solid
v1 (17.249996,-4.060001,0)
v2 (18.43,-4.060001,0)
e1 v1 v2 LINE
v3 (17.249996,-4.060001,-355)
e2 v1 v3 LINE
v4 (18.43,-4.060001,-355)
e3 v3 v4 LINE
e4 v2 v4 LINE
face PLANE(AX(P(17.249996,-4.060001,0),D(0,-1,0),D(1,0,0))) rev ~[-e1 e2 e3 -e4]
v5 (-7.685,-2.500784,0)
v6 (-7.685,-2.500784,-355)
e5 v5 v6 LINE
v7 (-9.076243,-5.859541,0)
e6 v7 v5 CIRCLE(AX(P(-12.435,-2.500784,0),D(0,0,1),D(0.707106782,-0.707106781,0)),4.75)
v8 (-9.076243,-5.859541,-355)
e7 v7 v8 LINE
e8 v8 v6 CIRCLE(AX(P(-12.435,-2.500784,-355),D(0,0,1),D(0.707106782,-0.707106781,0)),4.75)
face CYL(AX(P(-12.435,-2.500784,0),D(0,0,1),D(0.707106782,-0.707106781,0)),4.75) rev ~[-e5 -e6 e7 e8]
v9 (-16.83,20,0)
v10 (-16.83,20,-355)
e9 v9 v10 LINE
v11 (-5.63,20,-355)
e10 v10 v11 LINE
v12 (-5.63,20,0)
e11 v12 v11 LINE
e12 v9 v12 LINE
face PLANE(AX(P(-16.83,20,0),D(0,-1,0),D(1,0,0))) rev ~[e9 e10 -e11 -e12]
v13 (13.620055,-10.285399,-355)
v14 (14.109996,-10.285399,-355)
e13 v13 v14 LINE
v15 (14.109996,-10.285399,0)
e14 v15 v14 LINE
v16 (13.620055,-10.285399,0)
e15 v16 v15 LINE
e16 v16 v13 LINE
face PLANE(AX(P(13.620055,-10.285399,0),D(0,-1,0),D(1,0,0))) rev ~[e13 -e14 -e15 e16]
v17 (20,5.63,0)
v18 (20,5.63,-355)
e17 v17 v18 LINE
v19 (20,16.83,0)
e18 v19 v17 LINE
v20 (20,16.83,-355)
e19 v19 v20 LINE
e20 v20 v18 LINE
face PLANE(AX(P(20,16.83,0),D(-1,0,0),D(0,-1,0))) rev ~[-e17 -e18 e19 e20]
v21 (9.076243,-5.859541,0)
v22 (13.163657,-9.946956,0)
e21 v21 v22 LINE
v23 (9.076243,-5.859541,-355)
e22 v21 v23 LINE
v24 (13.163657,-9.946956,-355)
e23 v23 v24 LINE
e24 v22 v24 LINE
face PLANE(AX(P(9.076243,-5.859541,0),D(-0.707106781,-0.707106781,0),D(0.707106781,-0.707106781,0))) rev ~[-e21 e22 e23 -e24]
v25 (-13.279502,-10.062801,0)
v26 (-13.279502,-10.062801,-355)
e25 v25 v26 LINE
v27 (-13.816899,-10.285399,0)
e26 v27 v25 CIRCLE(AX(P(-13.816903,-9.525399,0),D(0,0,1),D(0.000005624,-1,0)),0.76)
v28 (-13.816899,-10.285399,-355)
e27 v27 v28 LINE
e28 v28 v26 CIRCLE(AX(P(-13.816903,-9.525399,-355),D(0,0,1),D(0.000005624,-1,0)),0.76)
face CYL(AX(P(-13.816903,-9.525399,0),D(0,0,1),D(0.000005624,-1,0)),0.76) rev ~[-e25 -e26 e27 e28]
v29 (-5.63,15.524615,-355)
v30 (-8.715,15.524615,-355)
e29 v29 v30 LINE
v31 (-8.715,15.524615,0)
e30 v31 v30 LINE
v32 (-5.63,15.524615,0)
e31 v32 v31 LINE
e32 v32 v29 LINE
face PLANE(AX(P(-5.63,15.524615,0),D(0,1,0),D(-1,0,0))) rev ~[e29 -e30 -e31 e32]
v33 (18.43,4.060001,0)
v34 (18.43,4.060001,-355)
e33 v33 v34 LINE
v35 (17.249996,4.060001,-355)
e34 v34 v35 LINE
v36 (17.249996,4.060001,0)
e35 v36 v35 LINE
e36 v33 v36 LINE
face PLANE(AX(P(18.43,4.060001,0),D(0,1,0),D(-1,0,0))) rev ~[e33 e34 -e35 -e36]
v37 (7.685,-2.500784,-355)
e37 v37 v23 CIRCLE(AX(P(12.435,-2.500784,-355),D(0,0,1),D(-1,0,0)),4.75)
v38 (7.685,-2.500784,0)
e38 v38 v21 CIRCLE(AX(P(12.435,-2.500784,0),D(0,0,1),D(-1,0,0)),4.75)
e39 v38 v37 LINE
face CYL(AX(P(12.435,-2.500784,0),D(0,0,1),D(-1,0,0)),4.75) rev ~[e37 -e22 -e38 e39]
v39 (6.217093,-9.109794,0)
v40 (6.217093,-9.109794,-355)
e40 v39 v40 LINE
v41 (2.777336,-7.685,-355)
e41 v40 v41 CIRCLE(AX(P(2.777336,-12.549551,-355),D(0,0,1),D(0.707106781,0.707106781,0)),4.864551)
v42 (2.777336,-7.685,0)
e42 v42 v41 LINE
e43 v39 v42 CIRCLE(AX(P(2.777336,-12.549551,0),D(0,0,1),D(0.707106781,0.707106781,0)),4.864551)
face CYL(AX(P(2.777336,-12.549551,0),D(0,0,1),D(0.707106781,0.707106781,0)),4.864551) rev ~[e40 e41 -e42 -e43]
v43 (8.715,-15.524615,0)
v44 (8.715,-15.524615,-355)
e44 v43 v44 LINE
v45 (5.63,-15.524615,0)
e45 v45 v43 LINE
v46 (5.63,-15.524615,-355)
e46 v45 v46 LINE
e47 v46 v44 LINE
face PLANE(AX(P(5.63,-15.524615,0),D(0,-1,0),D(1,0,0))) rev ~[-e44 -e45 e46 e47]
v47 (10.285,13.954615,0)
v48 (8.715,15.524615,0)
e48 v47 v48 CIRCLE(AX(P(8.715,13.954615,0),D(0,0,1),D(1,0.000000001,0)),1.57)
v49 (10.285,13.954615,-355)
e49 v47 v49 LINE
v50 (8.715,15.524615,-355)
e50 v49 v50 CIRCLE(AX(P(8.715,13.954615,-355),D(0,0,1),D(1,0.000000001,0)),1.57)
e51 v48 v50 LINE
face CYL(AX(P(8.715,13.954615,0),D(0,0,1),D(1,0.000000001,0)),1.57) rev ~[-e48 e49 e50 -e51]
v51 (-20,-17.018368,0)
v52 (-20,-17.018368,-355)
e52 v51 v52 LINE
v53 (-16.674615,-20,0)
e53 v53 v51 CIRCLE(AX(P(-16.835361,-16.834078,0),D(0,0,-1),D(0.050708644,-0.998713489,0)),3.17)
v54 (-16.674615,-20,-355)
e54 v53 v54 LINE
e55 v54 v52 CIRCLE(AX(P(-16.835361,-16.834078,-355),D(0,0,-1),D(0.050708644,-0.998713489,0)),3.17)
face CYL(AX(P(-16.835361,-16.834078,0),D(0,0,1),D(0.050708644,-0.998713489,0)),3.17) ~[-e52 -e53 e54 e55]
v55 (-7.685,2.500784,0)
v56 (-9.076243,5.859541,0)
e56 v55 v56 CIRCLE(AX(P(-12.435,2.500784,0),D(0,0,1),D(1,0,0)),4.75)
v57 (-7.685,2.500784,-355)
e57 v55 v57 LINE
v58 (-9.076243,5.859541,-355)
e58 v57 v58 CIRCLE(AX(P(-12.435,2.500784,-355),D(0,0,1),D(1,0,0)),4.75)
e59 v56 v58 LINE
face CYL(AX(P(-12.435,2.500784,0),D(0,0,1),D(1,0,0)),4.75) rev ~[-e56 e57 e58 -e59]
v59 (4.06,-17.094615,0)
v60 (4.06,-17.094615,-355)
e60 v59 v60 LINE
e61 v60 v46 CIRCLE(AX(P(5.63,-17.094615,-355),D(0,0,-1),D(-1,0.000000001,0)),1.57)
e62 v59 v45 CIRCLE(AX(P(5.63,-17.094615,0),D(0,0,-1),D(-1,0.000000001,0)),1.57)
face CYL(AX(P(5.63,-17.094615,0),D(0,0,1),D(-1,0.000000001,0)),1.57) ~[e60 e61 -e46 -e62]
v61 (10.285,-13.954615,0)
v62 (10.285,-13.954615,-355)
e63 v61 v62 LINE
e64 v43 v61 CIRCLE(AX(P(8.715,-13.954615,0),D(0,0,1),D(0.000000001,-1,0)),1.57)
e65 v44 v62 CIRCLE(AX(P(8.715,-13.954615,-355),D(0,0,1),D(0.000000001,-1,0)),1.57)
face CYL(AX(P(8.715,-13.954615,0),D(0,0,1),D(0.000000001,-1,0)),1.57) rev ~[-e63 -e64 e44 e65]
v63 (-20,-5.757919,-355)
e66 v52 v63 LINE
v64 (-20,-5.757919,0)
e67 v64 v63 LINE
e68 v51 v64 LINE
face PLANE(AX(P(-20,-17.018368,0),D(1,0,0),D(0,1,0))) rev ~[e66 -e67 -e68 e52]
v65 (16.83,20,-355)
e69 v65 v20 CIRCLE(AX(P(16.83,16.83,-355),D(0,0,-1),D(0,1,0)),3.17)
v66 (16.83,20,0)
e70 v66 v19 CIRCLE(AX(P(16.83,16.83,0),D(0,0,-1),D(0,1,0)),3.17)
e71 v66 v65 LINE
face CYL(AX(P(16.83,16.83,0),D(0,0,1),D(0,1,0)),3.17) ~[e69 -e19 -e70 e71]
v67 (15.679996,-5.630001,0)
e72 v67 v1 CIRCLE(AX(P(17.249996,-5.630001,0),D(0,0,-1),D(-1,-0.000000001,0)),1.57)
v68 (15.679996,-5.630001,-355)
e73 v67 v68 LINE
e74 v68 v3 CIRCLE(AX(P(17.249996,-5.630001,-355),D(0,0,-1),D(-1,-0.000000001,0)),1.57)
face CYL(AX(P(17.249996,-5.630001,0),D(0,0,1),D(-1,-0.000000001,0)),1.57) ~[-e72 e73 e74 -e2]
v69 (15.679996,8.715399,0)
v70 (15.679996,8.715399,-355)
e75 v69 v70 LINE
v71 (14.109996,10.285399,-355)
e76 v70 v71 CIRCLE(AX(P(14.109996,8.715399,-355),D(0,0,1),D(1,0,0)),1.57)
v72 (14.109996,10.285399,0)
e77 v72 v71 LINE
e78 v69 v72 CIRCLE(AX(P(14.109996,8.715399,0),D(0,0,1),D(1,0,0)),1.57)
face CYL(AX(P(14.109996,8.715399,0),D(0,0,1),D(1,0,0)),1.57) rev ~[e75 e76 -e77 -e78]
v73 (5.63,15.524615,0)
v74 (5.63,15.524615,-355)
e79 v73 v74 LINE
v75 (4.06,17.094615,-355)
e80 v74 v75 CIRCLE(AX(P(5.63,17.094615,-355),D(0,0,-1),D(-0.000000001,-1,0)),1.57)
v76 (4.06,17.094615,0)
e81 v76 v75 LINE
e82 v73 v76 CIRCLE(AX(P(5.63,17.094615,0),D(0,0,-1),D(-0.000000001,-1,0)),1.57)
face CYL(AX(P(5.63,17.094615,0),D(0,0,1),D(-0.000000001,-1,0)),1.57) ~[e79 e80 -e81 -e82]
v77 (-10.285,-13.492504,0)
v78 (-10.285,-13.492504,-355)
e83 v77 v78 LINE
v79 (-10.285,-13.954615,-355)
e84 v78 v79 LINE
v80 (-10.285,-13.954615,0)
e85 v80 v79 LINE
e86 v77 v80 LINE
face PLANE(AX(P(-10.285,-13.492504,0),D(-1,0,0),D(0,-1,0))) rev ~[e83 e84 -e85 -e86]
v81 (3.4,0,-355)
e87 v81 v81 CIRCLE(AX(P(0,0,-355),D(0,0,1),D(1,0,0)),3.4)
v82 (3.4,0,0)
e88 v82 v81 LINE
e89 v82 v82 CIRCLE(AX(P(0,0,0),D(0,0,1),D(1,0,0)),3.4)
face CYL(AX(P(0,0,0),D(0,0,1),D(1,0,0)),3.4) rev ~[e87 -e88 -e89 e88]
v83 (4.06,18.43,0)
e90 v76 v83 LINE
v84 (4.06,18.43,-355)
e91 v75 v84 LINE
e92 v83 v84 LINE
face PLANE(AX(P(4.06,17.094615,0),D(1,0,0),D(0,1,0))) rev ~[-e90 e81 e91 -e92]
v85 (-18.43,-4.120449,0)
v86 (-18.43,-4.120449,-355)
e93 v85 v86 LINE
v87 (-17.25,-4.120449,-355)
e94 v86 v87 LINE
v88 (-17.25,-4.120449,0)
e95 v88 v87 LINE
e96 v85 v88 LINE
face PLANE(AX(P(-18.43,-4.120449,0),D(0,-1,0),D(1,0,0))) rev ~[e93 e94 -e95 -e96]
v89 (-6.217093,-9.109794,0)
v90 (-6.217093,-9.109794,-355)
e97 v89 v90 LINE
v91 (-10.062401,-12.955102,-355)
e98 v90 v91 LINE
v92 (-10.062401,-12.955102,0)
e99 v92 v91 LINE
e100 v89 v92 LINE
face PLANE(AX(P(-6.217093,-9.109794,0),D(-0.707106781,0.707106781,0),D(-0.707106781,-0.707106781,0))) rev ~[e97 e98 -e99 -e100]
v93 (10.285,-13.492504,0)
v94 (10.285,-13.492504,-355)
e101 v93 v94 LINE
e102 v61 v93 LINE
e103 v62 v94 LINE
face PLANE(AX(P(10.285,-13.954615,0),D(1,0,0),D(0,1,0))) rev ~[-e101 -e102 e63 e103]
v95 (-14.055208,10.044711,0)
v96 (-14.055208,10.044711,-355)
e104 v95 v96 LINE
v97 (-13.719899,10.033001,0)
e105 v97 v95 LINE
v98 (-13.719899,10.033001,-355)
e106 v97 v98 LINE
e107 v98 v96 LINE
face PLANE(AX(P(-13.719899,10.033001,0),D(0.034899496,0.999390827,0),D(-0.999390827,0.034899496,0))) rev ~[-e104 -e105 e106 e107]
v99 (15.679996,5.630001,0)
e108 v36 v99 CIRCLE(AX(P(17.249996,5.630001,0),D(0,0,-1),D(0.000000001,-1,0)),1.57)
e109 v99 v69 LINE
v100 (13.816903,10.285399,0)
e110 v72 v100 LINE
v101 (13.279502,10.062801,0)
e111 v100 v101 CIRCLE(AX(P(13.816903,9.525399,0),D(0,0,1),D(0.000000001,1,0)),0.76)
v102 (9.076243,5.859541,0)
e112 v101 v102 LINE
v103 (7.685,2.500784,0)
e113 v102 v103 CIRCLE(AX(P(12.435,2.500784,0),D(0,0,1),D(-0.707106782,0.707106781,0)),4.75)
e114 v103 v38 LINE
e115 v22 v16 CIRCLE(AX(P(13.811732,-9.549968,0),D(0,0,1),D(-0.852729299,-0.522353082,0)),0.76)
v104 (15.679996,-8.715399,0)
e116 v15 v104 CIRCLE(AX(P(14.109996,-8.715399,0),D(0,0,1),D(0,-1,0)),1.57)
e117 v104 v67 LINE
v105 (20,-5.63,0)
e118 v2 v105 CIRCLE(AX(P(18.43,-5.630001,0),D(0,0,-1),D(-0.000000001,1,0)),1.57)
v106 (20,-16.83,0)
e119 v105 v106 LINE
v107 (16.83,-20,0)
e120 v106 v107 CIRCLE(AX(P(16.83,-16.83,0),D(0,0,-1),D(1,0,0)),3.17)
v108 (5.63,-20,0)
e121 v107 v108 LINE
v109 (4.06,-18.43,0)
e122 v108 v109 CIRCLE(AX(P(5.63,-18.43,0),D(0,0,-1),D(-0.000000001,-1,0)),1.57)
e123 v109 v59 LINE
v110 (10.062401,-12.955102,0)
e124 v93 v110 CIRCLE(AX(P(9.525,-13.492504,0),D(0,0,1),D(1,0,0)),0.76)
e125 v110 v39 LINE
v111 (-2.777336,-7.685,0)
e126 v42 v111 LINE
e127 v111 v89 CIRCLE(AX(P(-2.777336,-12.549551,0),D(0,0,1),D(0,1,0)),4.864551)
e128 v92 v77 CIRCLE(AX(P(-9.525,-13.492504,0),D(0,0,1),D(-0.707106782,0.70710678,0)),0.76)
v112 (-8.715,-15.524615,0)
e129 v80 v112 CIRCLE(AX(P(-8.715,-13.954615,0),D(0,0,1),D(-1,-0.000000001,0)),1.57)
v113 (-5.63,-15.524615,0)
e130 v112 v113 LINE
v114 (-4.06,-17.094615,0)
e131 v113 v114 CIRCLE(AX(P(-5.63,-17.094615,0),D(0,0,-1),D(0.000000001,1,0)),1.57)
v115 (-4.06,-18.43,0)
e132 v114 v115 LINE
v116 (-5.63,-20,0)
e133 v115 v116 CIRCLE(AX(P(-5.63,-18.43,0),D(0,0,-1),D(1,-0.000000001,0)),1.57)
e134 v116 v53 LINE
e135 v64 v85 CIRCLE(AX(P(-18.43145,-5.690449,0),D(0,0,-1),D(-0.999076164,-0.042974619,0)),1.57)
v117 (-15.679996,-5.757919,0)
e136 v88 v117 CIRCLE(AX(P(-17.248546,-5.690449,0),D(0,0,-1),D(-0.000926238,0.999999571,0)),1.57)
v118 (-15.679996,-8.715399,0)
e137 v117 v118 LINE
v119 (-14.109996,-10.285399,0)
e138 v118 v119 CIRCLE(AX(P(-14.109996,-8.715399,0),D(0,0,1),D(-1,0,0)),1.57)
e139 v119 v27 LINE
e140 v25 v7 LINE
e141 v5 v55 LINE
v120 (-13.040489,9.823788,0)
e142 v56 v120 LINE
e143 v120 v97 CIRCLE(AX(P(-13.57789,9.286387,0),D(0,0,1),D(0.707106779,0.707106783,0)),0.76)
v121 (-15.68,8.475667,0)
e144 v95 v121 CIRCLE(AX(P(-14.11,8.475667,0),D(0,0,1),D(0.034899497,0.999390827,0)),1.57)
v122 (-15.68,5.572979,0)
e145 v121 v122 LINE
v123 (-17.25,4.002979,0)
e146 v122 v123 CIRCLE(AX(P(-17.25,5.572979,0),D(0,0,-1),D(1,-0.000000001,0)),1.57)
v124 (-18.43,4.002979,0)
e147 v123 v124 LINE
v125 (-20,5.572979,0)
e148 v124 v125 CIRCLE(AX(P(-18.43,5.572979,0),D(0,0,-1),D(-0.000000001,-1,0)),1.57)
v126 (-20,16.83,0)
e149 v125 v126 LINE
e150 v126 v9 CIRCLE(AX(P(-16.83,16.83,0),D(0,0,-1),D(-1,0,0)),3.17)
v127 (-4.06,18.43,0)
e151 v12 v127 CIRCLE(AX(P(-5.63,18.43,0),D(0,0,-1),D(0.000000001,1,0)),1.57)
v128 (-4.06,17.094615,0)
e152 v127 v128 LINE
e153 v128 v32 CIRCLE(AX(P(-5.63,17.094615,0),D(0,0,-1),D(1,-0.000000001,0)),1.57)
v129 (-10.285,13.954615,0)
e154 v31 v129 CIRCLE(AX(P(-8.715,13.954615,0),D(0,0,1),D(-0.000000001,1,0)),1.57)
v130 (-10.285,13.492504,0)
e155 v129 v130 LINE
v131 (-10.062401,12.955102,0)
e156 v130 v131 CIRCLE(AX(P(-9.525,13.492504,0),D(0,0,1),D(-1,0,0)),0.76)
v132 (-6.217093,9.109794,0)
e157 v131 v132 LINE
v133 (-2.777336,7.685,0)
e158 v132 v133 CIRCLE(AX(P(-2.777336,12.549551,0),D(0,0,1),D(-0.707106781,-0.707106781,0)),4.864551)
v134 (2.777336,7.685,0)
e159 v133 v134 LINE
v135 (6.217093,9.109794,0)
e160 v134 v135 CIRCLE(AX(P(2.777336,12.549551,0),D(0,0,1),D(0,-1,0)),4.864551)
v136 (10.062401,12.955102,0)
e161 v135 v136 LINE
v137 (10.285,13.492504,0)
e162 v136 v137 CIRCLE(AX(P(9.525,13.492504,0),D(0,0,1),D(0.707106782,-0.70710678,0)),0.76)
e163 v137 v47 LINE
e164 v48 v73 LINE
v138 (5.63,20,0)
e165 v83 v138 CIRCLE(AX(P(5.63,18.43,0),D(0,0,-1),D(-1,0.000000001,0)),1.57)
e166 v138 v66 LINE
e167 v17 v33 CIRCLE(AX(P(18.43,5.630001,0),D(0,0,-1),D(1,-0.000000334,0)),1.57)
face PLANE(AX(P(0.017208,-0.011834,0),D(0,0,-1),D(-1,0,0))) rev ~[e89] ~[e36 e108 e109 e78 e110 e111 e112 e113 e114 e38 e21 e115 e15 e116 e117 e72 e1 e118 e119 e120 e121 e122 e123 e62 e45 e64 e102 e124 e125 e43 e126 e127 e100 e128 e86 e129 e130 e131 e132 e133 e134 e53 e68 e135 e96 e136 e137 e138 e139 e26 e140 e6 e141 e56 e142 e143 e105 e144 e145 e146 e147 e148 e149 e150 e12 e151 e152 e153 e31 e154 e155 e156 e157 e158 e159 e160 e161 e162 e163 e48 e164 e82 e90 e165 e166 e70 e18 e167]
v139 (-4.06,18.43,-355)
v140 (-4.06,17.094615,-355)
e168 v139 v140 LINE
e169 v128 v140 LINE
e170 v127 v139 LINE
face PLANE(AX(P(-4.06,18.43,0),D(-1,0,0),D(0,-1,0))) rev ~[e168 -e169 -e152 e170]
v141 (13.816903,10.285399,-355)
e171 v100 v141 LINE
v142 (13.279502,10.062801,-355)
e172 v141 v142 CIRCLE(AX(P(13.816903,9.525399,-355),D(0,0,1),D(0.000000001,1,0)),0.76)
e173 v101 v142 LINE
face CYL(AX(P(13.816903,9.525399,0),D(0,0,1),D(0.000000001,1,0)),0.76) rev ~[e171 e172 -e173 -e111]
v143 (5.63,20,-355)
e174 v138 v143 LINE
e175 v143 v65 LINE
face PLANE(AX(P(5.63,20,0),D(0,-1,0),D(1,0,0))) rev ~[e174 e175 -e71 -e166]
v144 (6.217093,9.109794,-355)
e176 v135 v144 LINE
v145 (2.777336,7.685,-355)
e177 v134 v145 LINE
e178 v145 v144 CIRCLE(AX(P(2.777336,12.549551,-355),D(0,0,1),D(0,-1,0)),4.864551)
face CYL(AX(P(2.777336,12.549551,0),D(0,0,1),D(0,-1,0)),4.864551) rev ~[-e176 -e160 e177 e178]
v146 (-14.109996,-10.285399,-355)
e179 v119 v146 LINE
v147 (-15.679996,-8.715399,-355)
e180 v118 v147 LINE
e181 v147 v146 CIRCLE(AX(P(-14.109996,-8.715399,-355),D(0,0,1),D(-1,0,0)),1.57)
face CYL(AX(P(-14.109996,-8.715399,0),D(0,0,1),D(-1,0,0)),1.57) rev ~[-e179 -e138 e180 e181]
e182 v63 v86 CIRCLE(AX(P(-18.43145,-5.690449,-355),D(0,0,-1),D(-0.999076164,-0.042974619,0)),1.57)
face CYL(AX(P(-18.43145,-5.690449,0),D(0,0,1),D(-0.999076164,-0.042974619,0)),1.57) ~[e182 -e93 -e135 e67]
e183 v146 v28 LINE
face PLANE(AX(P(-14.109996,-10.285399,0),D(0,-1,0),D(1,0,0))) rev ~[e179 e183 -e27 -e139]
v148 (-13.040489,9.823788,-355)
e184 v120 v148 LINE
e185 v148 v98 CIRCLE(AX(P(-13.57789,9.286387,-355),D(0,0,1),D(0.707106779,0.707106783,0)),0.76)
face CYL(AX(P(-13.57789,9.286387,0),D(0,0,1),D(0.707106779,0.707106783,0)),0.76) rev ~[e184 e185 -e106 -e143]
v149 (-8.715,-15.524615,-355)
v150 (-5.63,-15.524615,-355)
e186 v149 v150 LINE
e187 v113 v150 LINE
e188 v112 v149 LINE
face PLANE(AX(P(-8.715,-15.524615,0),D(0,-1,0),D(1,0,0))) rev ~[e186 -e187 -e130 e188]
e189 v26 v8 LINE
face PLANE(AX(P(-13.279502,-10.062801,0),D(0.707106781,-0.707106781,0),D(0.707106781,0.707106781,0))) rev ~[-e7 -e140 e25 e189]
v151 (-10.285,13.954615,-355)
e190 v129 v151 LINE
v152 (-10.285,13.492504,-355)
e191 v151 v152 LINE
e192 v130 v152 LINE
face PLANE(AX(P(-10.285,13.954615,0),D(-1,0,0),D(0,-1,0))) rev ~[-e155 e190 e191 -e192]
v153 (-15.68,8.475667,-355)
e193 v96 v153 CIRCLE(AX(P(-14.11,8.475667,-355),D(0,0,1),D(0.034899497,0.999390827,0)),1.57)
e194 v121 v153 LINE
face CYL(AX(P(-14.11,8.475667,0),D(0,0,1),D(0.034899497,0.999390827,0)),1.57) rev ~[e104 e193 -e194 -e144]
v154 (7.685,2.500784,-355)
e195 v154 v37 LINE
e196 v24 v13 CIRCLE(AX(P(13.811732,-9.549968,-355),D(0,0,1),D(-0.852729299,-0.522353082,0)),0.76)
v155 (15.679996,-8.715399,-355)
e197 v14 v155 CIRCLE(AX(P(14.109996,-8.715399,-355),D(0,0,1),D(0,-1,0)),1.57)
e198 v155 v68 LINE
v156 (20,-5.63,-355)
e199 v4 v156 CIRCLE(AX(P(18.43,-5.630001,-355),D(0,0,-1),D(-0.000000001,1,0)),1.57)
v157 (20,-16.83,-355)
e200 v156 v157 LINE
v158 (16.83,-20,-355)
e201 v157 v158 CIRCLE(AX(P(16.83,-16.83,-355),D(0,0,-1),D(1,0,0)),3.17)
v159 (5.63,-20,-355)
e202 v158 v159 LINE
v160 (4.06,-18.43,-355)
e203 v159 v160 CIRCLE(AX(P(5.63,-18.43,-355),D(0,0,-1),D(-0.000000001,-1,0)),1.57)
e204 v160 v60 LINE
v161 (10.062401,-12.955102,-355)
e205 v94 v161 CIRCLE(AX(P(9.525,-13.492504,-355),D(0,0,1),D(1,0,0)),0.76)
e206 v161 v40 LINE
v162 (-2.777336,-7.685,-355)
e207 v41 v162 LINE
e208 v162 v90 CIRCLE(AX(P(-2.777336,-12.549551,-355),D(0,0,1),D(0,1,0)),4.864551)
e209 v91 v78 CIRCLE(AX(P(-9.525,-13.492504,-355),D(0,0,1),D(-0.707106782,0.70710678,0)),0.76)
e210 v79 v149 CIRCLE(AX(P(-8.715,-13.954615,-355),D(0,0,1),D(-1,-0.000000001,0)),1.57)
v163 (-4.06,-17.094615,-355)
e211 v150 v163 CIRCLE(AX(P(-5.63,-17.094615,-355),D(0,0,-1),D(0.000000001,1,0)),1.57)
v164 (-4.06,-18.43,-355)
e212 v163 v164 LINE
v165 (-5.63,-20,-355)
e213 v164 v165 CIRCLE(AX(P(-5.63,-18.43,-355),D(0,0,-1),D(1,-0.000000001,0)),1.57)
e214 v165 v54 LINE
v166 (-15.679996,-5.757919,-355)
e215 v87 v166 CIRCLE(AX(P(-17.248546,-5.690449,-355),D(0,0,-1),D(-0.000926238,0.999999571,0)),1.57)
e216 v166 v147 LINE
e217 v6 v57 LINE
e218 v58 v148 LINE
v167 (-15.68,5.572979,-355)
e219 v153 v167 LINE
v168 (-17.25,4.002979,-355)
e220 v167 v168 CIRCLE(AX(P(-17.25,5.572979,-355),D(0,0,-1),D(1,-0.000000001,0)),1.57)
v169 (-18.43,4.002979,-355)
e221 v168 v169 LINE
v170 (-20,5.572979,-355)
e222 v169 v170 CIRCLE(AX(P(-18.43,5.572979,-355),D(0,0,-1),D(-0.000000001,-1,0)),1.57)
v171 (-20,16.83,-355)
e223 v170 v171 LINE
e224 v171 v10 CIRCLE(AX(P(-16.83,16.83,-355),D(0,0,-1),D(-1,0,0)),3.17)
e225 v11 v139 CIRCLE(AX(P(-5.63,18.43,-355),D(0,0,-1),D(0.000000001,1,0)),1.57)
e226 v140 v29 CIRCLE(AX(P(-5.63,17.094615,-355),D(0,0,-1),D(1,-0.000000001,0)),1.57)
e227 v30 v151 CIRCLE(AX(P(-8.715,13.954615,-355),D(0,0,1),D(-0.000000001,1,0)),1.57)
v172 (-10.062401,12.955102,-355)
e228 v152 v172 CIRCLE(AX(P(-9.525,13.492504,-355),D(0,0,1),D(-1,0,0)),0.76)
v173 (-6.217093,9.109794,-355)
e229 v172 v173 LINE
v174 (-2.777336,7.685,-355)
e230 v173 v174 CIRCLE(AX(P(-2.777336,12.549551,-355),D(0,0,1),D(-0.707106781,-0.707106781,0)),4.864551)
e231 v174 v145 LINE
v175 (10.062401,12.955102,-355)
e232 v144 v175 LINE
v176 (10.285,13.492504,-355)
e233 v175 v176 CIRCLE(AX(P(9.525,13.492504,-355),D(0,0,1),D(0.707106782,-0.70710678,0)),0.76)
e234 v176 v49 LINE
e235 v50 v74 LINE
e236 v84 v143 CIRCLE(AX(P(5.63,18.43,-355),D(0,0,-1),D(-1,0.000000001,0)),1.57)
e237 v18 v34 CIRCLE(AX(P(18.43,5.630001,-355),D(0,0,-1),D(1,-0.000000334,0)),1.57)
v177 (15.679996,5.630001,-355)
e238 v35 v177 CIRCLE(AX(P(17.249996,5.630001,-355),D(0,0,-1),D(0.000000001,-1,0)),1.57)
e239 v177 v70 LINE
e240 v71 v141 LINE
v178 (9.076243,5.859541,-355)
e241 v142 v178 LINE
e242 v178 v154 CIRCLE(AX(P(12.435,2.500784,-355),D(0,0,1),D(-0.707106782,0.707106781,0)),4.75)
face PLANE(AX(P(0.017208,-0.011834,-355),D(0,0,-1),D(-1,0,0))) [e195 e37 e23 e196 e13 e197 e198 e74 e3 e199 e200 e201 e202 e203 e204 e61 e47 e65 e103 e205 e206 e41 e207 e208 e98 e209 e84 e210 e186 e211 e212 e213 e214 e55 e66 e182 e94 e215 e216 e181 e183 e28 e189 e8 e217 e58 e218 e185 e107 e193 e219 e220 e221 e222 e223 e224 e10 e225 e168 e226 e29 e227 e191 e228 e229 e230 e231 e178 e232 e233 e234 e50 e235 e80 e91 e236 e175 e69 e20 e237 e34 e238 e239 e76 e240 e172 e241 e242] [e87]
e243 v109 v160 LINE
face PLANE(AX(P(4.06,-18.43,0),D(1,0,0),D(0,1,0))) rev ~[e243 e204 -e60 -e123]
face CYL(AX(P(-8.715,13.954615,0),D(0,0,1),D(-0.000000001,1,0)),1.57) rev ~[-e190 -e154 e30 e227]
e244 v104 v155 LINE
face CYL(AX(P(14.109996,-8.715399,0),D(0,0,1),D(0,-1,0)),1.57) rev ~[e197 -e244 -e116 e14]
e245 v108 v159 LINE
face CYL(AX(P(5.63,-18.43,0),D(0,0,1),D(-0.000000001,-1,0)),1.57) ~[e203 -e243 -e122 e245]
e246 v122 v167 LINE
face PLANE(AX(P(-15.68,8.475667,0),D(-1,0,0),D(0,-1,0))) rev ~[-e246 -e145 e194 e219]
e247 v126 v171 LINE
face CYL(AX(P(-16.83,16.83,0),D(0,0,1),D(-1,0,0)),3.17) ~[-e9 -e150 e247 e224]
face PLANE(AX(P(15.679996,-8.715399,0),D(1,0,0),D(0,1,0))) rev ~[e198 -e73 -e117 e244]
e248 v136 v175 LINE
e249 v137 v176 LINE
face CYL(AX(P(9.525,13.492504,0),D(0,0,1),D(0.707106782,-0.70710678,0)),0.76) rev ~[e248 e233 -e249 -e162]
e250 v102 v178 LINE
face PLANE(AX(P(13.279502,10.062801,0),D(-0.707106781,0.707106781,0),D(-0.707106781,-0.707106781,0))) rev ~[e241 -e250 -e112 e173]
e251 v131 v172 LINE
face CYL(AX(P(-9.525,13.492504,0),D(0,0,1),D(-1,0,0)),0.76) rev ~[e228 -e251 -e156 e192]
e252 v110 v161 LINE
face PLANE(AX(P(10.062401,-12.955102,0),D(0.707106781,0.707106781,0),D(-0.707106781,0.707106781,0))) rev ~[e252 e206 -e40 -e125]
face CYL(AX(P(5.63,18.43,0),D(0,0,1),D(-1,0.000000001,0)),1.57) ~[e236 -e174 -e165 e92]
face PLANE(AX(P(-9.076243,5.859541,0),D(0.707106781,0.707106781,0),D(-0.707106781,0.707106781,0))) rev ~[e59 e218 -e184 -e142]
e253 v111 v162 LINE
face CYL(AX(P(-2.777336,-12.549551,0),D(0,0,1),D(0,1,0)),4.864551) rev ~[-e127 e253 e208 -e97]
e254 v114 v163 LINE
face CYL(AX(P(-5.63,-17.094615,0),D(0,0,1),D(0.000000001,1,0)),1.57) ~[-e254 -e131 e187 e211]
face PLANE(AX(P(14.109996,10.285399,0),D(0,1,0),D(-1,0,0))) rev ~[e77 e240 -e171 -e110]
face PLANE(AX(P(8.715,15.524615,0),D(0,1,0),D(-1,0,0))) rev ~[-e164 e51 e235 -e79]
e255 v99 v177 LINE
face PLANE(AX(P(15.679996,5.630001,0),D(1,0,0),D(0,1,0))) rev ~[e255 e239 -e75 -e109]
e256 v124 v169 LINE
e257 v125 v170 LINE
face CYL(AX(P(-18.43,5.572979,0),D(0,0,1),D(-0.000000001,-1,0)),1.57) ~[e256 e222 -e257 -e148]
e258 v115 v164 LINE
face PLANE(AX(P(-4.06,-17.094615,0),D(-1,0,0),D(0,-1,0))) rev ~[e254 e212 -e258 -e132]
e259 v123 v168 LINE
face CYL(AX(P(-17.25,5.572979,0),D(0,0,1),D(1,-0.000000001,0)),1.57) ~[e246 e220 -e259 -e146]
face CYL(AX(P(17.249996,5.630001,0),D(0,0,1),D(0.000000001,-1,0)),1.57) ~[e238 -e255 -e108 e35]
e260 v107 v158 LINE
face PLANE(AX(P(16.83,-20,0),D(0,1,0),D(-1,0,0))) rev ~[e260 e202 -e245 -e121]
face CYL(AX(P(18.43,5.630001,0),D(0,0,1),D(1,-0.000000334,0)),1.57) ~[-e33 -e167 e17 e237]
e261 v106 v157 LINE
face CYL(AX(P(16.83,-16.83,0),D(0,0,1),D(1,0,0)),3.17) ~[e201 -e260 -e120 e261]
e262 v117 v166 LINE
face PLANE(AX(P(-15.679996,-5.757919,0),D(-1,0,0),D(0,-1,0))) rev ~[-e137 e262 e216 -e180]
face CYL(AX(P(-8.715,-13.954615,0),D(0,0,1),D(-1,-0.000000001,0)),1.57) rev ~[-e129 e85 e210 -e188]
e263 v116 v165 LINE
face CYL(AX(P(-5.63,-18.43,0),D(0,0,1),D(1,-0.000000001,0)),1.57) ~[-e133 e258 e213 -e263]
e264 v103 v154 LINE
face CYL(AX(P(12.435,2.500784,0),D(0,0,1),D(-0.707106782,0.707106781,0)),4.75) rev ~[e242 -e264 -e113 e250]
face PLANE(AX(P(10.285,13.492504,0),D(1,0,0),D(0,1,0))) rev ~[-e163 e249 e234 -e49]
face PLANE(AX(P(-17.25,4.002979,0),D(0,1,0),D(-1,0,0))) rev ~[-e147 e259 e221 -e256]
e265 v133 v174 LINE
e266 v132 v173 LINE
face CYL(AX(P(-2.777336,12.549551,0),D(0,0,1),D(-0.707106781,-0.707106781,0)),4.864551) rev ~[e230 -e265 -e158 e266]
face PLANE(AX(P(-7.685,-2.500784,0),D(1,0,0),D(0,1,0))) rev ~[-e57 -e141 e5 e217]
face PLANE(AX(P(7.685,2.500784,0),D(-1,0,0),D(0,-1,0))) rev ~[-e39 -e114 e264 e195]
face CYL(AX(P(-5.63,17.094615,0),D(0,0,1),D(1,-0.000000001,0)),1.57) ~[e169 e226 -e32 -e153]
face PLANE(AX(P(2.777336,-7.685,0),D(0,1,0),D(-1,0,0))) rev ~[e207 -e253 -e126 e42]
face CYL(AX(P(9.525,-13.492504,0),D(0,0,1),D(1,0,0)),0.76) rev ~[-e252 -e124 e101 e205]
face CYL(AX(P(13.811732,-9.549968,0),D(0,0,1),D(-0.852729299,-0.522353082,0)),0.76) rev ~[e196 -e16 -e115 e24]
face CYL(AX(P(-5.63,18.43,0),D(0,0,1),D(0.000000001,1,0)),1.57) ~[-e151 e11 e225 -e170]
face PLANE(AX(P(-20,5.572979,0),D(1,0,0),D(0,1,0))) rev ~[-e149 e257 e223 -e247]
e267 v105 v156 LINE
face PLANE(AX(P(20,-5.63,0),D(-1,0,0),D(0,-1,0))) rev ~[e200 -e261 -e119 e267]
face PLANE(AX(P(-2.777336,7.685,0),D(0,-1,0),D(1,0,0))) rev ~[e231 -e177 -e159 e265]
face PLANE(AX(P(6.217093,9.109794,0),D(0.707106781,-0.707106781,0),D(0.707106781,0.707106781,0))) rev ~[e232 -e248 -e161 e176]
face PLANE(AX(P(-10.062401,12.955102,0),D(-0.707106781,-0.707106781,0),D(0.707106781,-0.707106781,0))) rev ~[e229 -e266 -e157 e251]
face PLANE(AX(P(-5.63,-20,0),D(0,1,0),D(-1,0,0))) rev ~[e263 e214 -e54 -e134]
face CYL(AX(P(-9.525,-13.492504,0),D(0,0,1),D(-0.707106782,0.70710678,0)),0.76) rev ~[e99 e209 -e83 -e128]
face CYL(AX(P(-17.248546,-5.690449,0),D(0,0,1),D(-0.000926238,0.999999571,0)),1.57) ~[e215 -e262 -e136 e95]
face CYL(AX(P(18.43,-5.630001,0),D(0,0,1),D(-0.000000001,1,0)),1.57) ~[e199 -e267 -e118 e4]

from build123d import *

# Parameters (mm, degrees)
SKETCH1_R      = 3.4
EXTRUDE1_DEPTH = 355


with BuildPart() as part:
    # Sketch1 → Extrude1 (new body)
    with BuildSketch(Plane.XY):
        with BuildLine():
            Line((-8.715, -15.524615034), (-5.63, -15.524615034))
            ThreePointArc((-5.63, -15.524615034), (-4.519842354, -15.984457388), (-4.06, -17.094615034))
            Line((-4.06, -17.094615034), (-4.06, -18.43))
            ThreePointArc((-4.06, -18.43), (-4.519842354, -19.540157646), (-5.63, -20))
            Line((-5.63, -20), (-16.674615034, -20))
            ThreePointArc((-16.674615034, -20), (-18.951578385, -19.194274381), (-20, -17.018368134))
            Line((-20, -17.018368134), (-20, -5.757918808))
            ThreePointArc((-20, -5.757918808), (-19.564709668, -4.603883664), (-18.43, -4.120449326))
            Line((-18.43, -4.120449326), (-17.25, -4.120449326))
            ThreePointArc((-17.25, -4.120449326), (-16.115287682, -4.60388249), (-15.67999625, -5.757919334))
            Line((-15.67999625, -5.757919334), (-15.67999625, -8.715399492))
            ThreePointArc((-15.67999625, -8.715399492), (-15.220153896, -9.825557139), (-14.10999625, -10.285399492))
            Line((-14.10999625, -10.285399492), (-13.816898819, -10.285399492))
            ThreePointArc((-13.816898819, -10.285399492), (-13.526061711, -10.227547119), (-13.279501941, -10.062800646))
            Line((-13.279501941, -10.062800646), (-9.076242789, -5.859541495))
            ThreePointArc((-9.076242789, -5.859541495), (-8.046572221, -4.318530588), (-7.685, -2.500784284))
            Line((-7.685, -2.500784284), (-7.685, 2.500784284))
            ThreePointArc((-7.685, 2.500784284), (-8.046572221, 4.318530588), (-9.076242789, 5.859541495))
            Line((-9.076242789, 5.859541495), (-13.040489136, 9.823787841))
            ThreePointArc((-13.040489136, 9.823787841), (-13.354224618, 10.012729352), (-13.71989919, 10.033001362))
            Line((-13.71989919, 10.033001362), (-14.05520779, 10.044710596))
            ThreePointArc((-14.05520779, 10.044710596), (-15.200613642, 9.605030484), (-15.68, 8.475666998))
            Line((-15.68, 8.475666998), (-15.68, 5.572979049))
            ThreePointArc((-15.68, 5.572979049), (-16.139842354, 4.462821403), (-17.25, 4.002979049))
            Line((-17.25, 4.002979049), (-18.43, 4.002979049))
            ThreePointArc((-18.43, 4.002979049), (-19.540157646, 4.462821403), (-20, 5.572979049))
            Line((-20, 5.572979049), (-20, 13.004526564))
            Line((-20, 13.004526564), (-20, 16.83))
            ThreePointArc((-20, 16.83), (-19.071528496, 19.071528496), (-16.83, 20))
            Line((-16.83, 20), (-5.63, 20))
            ThreePointArc((-5.63, 20), (-4.519842354, 19.540157646), (-4.06, 18.43))
            Line((-4.06, 18.43), (-4.06, 17.094615034))
            ThreePointArc((-4.06, 17.094615034), (-4.519842354, 15.984457388), (-5.63, 15.524615034))
            Line((-5.63, 15.524615034), (-8.715, 15.524615034))
            ThreePointArc((-8.715, 15.524615034), (-9.825157646, 15.06477268), (-10.285, 13.954615034))
            Line((-10.285, 13.954615034), (-10.285, 13.492503602))
            ThreePointArc((-10.285, 13.492503602), (-10.227148445, 13.201664194), (-10.062401154, 12.955102448))
            Line((-10.062401154, 12.955102448), (-6.217092793, 9.109794088))
            ThreePointArc((-6.217092793, 9.109794088), (-4.63891877, 8.055291919), (-2.777335583, 7.685))
            Line((-2.777335583, 7.685), (2.777335583, 7.685))
            ThreePointArc((2.777335583, 7.685), (4.63891877, 8.055291919), (6.217092793, 9.109794088))
            Line((6.217092793, 9.109794088), (10.062401154, 12.955102448))
            ThreePointArc((10.062401154, 12.955102448), (10.227148445, 13.201664194), (10.285, 13.492503602))
            Line((10.285, 13.492503602), (10.285, 13.954615034))
            ThreePointArc((10.285, 13.954615034), (9.825157646, 15.06477268), (8.715, 15.524615034))
            Line((8.715, 15.524615034), (5.63, 15.524615034))
            ThreePointArc((5.63, 15.524615034), (4.519842354, 15.984457388), (4.06, 17.094615034))
            Line((4.06, 17.094615034), (4.06, 18.43))
            ThreePointArc((4.06, 18.43), (4.519842354, 19.540157646), (5.63, 20))
            Line((5.63, 20), (12.979635074, 20))
            Line((12.979635074, 20), (16.83, 20))
            ThreePointArc((16.83, 20), (19.071528496, 19.071528496), (20, 16.83))
            Line((20, 16.83), (20, 13.001098436))
            Line((20, 13.001098436), (20, 5.63))
            ThreePointArc((20, 5.63), (19.540157461, 4.519842693), (18.43, 4.060000526))
            Line((18.43, 4.060000526), (17.24999625, 4.060000526))
            ThreePointArc((17.24999625, 4.060000526), (16.139838603, 4.519842879), (15.67999625, 5.630000526))
            Line((15.67999625, 5.630000526), (15.67999625, 8.715399492))
            ThreePointArc((15.67999625, 8.715399492), (15.220153896, 9.825557139), (14.10999625, 10.285399492))
            Line((14.10999625, 10.285399492), (13.816903094, 10.285399492))
            ThreePointArc((13.816903094, 10.285399492), (13.526063686, 10.227547937), (13.279501941, 10.062800646))
            Line((13.279501941, 10.062800646), (9.076242789, 5.859541495))
            ThreePointArc((9.076242789, 5.859541495), (8.046572221, 4.318530588), (7.685, 2.500784284))
            Line((7.685, 2.500784284), (7.685, -2.500784284))
            ThreePointArc((7.685, -2.500784284), (8.046572221, -4.318530588), (9.076242789, -5.859541495))
            Line((9.076242789, -5.859541495), (13.163657296, -9.946956002))
            ThreePointArc((13.163657296, -9.946956002), (13.35903797, -10.160433474), (13.6200547, -10.285399492))
            Line((13.6200547, -10.285399492), (14.10999625, -10.285399492))
            ThreePointArc((14.10999625, -10.285399492), (15.220153896, -9.825557139), (15.67999625, -8.715399492))
            Line((15.67999625, -8.715399492), (15.67999625, -5.630000526))
            ThreePointArc((15.67999625, -5.630000526), (16.139838603, -4.519842879), (17.24999625, -4.060000526))
            Line((17.24999625, -4.060000526), (18.43, -4.060000526))
            ThreePointArc((18.43, -4.060000526), (19.540157461, -4.519842693), (20, -5.63))
            Line((20, -5.63), (20, -16.83))
            ThreePointArc((20, -16.83), (19.071528496, -19.071528496), (16.83, -20))
            Line((16.83, -20), (13, -20))
            Line((13, -20), (5.63, -20))
            ThreePointArc((5.63, -20), (4.519842354, -19.540157646), (4.06, -18.43))
            Line((4.06, -18.43), (4.06, -17.094615034))
            ThreePointArc((4.06, -17.094615034), (4.519842354, -15.984457388), (5.63, -15.524615034))
            Line((5.63, -15.524615034), (8.715, -15.524615034))
            ThreePointArc((8.715, -15.524615034), (9.825157646, -15.06477268), (10.285, -13.954615034))
            Line((10.285, -13.954615034), (10.285, -13.492503602))
            ThreePointArc((10.285, -13.492503602), (10.227148445, -13.201664194), (10.062401154, -12.955102448))
            Line((10.062401154, -12.955102448), (6.217092793, -9.109794088))
            ThreePointArc((6.217092793, -9.109794088), (4.63891877, -8.055291919), (2.777335583, -7.685))
            Line((2.777335583, -7.685), (-2.777335583, -7.685))
            ThreePointArc((-2.777335583, -7.685), (-4.63891877, -8.055291919), (-6.217092793, -9.109794088))
            Line((-6.217092793, -9.109794088), (-10.062401154, -12.955102448))
            ThreePointArc((-10.062401154, -12.955102448), (-10.227148445, -13.201664194), (-10.285, -13.492503602))
            Line((-10.285, -13.492503602), (-10.285, -13.954615034))
            ThreePointArc((-10.285, -13.954615034), (-9.825157646, -15.06477268), (-8.715, -15.524615034))
        make_face()
        Circle(SKETCH1_R, mode=Mode.SUBTRACT)
    extrude(amount=-EXTRUDE1_DEPTH)


solid = part.part
